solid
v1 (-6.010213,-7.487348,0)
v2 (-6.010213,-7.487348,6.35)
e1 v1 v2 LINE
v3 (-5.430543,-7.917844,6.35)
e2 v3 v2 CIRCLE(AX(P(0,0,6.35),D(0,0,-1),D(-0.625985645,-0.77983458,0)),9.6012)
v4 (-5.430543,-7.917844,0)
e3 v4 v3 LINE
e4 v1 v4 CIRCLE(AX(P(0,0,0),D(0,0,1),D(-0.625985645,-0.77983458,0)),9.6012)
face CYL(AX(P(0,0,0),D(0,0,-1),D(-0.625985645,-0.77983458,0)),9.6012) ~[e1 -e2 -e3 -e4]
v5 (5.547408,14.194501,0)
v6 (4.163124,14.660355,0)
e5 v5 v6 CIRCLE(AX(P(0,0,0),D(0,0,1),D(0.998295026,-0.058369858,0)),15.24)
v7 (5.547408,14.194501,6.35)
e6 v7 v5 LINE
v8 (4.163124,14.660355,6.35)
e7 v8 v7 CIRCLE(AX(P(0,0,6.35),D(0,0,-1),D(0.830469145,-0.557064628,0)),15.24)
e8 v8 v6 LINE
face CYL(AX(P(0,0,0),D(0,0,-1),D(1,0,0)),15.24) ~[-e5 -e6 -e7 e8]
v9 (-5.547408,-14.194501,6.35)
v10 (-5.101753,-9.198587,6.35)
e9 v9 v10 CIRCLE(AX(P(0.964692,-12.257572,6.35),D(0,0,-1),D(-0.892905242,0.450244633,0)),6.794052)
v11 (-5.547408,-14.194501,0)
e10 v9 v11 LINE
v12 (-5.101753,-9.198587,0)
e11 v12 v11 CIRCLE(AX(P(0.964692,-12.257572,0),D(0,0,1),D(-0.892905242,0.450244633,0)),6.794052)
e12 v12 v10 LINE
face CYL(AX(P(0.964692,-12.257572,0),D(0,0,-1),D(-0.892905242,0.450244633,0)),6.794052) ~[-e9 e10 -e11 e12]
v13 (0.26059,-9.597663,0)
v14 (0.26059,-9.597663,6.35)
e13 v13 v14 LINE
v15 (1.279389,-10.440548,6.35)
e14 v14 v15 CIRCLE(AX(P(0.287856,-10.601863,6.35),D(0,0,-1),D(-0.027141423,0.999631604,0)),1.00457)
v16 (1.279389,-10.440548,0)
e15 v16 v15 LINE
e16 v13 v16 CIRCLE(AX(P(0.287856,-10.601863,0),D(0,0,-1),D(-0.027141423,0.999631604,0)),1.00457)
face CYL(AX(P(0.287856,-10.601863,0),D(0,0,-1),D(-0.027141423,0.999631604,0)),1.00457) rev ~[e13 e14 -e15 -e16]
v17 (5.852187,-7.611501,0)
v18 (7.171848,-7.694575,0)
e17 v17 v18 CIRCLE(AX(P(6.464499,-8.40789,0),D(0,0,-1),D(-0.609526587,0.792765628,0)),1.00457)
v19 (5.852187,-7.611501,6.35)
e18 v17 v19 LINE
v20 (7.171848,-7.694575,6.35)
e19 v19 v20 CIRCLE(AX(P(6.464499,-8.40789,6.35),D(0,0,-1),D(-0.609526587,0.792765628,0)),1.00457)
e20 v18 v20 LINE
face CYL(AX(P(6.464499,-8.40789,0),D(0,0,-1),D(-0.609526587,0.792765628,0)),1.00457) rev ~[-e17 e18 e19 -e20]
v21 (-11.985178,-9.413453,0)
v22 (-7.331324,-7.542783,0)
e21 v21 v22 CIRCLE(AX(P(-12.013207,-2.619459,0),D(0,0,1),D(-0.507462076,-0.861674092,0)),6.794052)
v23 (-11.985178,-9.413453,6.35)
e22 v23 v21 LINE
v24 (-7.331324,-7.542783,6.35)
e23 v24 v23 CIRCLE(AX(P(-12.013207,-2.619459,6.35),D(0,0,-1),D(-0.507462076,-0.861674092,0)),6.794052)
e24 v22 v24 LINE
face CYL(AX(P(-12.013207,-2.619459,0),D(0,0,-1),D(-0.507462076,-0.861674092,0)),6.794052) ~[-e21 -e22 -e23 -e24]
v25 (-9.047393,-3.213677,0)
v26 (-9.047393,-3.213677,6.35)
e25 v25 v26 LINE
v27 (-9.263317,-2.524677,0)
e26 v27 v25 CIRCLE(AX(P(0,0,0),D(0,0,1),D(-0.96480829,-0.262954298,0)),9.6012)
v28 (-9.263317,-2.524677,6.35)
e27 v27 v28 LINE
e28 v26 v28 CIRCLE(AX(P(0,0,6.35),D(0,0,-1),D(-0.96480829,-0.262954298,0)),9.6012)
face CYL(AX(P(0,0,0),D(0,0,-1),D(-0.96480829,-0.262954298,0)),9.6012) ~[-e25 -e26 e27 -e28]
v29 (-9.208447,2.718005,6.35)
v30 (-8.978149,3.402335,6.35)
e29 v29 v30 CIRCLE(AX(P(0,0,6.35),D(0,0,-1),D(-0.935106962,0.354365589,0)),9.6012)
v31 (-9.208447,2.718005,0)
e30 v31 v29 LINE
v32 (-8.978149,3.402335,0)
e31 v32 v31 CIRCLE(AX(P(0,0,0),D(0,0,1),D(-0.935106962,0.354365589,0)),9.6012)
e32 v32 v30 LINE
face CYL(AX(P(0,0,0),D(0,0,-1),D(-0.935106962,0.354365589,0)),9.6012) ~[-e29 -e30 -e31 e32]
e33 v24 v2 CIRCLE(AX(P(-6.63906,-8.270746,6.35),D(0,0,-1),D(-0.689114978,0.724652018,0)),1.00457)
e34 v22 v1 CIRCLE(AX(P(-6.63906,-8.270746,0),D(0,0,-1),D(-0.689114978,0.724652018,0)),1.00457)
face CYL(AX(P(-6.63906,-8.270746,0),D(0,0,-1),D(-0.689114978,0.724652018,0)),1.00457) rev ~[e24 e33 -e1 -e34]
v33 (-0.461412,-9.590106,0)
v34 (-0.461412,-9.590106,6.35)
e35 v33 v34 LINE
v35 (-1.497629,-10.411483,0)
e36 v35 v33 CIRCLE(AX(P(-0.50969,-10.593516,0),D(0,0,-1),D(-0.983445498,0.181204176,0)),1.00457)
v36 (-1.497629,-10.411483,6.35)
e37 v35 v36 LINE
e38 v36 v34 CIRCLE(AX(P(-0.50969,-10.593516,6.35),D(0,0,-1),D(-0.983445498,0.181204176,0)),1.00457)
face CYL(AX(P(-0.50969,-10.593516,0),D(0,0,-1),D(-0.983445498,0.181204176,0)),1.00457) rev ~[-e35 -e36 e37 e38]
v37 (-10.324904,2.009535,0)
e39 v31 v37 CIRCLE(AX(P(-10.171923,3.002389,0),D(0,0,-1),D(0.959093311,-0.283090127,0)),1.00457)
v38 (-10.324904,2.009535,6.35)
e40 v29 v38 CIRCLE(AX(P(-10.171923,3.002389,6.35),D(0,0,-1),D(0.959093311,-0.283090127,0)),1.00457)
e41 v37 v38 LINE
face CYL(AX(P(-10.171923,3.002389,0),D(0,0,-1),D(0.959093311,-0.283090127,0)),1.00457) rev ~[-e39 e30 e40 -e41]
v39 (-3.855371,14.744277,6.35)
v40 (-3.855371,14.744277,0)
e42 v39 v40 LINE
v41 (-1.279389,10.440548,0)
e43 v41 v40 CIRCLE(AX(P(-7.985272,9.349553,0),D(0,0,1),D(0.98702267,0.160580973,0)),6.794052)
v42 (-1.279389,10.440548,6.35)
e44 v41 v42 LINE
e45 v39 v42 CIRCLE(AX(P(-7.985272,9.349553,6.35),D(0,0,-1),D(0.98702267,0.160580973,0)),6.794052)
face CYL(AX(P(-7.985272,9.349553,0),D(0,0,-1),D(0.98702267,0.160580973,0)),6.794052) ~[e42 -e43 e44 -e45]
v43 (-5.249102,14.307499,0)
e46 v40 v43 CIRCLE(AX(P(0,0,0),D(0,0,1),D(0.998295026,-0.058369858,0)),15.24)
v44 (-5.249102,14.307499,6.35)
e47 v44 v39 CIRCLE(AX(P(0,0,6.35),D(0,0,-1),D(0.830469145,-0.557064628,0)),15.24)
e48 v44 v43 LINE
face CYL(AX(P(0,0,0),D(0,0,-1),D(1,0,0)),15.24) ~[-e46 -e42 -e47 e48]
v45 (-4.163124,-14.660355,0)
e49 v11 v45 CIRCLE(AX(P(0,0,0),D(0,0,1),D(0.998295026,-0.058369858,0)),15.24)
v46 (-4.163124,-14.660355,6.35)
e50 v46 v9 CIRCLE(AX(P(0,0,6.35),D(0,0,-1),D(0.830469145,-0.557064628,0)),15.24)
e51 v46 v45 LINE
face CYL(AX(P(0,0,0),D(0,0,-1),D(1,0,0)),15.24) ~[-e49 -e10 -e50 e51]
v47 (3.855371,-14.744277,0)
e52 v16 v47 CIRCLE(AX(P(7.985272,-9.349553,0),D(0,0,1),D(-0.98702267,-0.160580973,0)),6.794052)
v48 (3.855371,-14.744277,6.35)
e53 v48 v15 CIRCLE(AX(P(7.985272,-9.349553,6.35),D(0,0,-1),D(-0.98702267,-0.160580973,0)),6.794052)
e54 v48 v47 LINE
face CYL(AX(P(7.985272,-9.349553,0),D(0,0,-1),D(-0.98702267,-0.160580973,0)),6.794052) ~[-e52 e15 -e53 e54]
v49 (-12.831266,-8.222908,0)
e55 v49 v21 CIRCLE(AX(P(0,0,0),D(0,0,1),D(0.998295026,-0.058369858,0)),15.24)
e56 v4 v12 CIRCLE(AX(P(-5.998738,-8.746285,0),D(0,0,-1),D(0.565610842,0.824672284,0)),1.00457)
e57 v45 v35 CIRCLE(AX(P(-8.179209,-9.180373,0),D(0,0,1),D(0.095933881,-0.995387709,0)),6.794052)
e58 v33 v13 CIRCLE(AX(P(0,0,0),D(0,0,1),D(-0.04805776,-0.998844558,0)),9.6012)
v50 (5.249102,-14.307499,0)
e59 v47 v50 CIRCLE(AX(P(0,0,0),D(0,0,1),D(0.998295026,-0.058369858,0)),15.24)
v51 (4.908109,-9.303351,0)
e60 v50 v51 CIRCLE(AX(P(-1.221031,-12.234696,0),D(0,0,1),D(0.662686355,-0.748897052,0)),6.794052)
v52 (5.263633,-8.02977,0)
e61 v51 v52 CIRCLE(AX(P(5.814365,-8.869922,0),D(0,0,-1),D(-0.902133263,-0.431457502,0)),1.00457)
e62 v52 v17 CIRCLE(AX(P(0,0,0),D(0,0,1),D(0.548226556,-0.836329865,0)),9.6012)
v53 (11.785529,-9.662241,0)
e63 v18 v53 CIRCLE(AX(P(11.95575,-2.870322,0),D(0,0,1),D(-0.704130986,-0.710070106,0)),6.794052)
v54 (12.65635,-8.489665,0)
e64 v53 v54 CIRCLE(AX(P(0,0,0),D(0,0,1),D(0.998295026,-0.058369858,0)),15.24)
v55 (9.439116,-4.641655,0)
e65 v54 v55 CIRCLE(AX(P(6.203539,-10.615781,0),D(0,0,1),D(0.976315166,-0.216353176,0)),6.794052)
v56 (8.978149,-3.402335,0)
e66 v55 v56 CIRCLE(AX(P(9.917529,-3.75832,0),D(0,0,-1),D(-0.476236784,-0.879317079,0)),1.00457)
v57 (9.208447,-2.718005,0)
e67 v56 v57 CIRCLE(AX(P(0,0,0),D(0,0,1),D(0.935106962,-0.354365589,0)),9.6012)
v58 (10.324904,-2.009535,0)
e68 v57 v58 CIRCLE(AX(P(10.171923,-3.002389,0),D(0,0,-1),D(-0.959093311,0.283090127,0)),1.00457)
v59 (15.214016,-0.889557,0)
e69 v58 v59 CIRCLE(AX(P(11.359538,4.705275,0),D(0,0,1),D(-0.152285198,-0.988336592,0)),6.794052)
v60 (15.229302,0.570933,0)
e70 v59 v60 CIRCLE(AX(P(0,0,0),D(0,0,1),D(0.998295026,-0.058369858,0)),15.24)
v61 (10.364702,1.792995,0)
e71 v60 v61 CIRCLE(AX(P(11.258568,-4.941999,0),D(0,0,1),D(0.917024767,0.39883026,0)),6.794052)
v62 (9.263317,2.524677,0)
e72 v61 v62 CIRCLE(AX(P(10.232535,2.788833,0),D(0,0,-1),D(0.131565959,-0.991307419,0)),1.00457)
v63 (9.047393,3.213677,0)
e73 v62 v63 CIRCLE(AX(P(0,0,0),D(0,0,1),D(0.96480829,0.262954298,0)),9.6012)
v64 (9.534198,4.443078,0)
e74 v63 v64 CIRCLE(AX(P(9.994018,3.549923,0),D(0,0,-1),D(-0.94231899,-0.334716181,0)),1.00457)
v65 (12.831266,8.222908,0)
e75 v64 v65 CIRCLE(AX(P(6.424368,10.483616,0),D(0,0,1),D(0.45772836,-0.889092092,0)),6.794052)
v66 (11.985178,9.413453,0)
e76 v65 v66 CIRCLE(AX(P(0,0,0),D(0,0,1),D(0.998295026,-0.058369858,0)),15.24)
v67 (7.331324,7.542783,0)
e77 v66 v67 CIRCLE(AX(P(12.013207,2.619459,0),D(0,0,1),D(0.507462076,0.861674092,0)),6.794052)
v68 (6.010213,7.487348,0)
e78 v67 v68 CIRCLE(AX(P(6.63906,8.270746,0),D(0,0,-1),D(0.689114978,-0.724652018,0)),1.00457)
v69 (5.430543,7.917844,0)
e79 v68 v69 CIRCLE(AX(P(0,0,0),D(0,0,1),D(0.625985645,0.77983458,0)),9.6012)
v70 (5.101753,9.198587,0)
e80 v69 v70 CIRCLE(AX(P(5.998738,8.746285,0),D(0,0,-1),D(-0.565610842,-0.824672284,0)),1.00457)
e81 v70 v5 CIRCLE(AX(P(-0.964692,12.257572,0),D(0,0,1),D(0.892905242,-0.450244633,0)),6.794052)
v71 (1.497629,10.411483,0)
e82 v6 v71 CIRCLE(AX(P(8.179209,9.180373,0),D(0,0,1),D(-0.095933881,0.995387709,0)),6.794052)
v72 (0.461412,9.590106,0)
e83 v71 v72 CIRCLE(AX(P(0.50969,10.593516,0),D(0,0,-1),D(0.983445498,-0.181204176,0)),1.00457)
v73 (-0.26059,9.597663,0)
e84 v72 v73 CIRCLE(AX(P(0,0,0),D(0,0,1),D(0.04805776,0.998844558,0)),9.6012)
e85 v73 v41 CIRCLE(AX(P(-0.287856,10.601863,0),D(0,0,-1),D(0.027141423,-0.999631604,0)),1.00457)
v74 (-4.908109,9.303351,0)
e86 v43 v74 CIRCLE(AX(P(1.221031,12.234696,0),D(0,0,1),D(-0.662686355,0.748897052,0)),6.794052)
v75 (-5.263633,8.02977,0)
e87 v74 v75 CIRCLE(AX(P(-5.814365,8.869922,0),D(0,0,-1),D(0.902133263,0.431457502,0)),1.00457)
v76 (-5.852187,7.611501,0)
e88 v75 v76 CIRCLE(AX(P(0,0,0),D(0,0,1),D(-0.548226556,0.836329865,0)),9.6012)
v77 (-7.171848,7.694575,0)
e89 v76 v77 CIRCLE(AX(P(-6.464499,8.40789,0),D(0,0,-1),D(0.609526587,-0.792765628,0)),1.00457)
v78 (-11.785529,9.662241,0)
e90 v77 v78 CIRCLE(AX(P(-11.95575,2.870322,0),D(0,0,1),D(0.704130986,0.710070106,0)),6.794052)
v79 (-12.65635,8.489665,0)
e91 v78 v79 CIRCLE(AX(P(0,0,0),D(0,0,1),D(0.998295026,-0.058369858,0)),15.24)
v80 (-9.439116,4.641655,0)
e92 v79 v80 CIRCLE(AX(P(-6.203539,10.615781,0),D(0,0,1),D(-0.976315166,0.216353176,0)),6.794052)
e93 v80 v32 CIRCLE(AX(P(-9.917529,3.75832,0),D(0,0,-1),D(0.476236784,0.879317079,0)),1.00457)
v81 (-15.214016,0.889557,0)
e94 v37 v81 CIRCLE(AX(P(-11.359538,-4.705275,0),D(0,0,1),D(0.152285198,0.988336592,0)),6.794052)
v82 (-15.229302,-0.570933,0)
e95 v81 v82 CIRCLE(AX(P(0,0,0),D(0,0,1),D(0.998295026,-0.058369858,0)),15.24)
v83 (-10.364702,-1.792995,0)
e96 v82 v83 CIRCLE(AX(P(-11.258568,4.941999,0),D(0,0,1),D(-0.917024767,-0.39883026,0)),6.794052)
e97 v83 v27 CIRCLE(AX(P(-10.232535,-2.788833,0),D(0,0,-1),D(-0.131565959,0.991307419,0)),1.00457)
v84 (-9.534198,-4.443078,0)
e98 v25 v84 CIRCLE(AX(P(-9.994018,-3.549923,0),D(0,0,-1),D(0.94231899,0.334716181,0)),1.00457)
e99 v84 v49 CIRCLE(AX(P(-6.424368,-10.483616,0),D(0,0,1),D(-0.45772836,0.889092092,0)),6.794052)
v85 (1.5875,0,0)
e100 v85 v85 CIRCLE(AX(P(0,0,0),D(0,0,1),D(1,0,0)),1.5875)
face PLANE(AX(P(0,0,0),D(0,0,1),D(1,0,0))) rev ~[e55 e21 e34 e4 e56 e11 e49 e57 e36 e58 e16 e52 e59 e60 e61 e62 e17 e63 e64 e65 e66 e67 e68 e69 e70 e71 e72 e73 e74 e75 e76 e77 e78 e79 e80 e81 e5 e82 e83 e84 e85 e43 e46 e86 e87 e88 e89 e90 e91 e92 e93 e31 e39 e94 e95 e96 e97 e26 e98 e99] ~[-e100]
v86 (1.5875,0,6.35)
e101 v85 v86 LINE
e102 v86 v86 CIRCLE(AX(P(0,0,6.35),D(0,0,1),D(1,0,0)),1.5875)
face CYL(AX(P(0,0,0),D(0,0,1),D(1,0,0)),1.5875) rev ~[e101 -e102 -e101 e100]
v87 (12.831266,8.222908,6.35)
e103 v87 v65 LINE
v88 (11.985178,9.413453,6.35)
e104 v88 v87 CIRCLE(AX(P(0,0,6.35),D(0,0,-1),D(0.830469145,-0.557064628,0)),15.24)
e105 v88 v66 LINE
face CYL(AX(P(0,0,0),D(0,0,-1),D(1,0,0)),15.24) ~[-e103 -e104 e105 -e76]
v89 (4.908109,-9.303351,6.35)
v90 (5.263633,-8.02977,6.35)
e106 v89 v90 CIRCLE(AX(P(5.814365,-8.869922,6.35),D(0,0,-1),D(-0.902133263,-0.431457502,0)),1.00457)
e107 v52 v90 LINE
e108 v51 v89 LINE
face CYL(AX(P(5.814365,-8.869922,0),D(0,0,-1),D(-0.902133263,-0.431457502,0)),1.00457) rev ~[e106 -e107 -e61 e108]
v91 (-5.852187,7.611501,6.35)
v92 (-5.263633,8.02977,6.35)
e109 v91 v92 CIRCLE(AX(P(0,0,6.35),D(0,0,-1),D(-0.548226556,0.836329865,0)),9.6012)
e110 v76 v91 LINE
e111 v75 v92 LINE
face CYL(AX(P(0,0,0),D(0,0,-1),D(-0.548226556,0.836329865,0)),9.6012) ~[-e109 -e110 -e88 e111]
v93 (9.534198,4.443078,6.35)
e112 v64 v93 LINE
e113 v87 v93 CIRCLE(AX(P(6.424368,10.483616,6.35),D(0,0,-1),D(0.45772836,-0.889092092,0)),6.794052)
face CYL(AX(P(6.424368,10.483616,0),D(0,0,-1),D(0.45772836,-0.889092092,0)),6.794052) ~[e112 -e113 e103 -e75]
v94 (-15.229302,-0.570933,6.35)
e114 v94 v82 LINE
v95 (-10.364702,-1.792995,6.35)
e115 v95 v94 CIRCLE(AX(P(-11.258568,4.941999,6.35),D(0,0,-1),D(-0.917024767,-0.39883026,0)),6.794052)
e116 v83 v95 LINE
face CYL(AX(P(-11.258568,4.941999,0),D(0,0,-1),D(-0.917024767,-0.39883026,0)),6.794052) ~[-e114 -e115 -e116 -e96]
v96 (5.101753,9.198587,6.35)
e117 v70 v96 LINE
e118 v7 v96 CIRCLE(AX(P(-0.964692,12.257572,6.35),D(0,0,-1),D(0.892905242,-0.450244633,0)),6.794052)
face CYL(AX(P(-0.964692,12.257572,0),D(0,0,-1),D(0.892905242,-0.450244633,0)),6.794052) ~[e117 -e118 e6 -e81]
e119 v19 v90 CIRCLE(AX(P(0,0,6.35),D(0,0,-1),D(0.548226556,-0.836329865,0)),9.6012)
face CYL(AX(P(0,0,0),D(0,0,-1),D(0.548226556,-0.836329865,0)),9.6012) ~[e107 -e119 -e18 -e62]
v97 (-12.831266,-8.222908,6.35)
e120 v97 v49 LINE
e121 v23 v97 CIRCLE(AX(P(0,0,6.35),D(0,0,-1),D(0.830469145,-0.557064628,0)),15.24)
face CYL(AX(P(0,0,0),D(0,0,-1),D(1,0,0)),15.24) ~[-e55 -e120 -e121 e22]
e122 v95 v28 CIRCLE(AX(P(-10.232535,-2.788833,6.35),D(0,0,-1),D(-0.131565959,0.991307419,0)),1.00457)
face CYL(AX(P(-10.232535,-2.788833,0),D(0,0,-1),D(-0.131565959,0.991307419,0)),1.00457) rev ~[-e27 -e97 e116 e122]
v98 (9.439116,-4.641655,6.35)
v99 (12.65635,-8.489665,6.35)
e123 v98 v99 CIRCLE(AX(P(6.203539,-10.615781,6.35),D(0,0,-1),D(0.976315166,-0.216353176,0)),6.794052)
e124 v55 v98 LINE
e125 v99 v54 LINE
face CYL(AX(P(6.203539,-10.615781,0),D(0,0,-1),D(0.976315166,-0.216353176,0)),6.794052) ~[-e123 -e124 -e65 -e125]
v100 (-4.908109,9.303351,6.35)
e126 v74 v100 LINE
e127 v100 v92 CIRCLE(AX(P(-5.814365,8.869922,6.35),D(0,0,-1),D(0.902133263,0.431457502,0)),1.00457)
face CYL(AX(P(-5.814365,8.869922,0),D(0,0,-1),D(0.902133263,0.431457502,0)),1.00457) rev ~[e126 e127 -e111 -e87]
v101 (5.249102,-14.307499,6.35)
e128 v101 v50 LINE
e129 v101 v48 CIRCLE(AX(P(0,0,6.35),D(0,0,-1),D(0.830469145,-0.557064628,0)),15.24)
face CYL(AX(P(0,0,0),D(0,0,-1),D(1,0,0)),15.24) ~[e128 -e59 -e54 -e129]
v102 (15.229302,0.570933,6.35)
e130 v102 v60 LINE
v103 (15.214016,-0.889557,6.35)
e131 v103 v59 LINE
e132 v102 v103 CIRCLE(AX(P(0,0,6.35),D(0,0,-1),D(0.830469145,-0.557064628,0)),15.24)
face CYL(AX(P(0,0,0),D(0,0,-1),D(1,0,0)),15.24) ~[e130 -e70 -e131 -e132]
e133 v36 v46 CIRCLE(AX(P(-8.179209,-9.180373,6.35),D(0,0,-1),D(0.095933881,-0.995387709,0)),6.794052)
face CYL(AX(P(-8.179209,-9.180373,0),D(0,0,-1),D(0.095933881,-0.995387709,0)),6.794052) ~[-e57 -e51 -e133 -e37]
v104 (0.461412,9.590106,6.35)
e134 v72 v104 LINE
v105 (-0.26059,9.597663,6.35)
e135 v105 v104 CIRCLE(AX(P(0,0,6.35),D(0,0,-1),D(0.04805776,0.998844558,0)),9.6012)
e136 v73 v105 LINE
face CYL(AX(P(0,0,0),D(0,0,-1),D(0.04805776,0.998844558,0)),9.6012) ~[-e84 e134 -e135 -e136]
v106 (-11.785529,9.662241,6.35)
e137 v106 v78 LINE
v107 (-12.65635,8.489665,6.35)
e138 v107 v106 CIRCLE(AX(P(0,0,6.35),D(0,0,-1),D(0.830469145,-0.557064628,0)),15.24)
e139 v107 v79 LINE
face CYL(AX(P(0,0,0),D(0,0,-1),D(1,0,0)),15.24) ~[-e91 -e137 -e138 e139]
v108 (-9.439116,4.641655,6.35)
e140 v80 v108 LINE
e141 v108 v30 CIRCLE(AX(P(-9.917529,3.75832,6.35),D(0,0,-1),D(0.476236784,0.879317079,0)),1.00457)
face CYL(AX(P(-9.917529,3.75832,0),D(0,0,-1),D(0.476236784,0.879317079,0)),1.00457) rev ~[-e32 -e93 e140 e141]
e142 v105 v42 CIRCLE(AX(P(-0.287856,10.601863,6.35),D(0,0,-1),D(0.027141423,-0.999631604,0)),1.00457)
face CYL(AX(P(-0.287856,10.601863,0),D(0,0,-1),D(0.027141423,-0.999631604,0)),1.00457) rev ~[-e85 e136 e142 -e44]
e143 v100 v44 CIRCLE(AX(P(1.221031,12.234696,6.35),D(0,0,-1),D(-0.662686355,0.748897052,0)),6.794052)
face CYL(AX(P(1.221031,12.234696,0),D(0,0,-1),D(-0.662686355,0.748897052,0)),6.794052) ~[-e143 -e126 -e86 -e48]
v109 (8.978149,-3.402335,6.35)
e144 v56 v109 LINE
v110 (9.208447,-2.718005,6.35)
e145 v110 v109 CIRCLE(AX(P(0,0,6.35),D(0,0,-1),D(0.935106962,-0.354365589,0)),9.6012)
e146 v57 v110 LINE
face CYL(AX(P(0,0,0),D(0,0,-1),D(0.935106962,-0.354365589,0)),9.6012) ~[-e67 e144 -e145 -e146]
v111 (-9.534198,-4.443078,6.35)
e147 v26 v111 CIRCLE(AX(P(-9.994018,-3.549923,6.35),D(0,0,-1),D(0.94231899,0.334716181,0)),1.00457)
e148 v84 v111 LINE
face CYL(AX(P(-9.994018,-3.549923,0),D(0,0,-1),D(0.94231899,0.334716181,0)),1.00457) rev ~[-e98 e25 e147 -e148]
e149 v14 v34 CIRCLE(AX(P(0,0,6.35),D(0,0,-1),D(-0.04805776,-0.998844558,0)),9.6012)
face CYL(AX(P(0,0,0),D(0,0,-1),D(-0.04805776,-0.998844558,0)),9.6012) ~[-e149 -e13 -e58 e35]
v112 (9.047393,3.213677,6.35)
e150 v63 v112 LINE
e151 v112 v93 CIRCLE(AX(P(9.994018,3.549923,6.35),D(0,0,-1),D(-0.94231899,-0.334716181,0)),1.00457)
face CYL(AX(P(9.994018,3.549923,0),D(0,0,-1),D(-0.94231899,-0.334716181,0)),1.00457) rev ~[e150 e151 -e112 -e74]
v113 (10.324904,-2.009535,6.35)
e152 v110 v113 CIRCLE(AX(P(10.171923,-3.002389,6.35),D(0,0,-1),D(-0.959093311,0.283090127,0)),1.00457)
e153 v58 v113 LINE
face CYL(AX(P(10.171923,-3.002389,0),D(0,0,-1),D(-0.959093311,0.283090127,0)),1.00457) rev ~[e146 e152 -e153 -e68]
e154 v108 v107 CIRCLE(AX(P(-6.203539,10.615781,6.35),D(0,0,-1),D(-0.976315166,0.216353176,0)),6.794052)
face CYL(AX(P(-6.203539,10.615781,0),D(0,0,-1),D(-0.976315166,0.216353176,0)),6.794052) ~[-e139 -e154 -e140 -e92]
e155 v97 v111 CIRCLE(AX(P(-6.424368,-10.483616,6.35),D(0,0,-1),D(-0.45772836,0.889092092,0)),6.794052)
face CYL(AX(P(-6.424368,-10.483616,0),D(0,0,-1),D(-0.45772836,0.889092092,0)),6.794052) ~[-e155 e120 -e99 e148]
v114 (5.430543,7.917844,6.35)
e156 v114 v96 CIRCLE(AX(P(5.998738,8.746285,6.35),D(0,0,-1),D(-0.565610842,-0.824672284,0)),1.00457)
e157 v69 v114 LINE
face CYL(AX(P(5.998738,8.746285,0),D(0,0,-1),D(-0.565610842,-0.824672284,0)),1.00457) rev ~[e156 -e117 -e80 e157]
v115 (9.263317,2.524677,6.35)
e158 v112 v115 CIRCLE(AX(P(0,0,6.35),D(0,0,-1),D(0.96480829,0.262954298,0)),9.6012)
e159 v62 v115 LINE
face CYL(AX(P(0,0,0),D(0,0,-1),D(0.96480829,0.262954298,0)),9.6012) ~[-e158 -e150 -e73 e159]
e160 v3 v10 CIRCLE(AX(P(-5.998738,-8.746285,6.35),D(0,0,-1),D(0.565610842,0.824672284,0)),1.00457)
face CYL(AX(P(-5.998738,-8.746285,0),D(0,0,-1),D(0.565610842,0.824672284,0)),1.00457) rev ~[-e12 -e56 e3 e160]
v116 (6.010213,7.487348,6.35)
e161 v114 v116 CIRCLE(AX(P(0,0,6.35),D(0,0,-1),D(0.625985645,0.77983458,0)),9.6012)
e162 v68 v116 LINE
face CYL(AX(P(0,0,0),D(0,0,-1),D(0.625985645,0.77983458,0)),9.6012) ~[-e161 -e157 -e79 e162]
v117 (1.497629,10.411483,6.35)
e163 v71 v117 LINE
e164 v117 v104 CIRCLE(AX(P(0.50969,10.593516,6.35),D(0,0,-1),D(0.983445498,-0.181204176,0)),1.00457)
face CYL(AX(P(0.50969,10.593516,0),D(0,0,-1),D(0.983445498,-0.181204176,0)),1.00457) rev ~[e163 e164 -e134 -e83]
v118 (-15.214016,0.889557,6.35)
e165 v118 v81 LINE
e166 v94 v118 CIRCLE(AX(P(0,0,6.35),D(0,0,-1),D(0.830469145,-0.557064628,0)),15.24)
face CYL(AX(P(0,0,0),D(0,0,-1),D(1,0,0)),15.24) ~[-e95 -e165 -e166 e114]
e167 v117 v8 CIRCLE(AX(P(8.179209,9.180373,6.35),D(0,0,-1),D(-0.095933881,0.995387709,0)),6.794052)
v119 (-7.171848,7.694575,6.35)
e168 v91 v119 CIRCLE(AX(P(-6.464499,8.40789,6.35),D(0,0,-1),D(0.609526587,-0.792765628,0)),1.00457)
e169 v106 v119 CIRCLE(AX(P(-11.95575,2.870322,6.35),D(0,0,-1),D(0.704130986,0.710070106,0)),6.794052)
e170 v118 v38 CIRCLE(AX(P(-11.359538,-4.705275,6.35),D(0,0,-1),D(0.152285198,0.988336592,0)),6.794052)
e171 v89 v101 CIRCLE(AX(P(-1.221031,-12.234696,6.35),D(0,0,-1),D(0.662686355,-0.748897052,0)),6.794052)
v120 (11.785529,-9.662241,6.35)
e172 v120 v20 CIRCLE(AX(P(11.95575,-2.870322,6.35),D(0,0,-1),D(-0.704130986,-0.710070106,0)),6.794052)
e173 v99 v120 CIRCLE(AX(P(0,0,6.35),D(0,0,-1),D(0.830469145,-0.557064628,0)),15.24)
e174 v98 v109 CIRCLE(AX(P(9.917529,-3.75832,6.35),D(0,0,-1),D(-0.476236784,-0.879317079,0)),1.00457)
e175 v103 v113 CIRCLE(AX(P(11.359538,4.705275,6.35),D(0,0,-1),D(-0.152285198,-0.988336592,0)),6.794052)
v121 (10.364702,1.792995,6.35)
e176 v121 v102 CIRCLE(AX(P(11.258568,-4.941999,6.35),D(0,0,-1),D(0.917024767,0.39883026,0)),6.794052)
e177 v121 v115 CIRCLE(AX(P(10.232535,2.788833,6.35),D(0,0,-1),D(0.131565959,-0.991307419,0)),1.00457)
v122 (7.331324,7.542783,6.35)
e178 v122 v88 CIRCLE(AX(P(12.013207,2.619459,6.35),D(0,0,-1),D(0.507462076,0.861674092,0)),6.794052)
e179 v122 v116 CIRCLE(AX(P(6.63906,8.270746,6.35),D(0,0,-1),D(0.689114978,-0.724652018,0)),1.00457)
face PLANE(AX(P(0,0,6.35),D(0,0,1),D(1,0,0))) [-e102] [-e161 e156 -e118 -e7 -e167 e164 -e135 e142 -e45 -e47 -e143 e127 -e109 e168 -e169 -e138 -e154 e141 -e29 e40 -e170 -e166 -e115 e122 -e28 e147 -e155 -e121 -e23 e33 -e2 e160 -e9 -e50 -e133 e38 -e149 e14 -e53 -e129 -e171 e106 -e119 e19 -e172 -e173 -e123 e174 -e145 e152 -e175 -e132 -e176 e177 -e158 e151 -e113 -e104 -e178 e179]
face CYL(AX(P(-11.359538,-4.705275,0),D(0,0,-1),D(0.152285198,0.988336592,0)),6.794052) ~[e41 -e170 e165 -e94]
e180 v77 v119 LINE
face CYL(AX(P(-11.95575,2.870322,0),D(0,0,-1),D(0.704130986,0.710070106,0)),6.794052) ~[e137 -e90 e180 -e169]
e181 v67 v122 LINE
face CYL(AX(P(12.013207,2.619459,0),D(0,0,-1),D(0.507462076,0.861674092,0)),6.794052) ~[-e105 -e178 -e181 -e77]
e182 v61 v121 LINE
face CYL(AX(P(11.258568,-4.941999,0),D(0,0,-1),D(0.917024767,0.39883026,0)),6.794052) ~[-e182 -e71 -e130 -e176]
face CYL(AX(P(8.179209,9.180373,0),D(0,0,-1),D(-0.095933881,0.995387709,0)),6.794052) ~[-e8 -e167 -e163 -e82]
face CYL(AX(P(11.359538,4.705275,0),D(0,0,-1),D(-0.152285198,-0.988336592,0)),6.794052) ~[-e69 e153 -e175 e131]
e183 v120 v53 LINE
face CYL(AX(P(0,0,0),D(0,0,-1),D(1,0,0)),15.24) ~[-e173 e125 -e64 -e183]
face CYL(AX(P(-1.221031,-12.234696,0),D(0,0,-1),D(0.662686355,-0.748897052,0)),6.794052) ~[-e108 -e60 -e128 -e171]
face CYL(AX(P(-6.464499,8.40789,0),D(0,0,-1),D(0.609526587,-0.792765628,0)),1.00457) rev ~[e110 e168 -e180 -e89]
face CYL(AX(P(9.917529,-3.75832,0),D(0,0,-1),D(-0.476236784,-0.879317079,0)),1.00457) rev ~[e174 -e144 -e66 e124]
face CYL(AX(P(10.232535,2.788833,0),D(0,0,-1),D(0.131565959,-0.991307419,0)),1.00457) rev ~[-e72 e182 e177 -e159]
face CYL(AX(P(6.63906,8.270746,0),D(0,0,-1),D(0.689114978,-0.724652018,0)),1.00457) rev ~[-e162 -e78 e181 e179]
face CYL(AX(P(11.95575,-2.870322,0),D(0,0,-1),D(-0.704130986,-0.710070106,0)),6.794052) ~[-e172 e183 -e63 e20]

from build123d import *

# Parameters (mm, degrees)
SKETCH3_R         = 15.24
GEARBODY_DEPTH    = 6.35
TOOTHCUT_DEPTH    = 23.468593636
CIRPATTERN1_COUNT = 10
BOREDIA_R         = 1.5875
BORE_DEPTH        = 12700


with BuildPart() as part:
    # Sketch3 → gearBody (new body)
    with BuildSketch(Plane.XY):
        Circle(SKETCH3_R)
    extrude(amount=GEARBODY_DEPTH)

    # Sketch2 → toothCut (cut, through all)
    with BuildSketch(Plane.XY):
        with BuildLine():
            ThreePointArc((8.978148959, -3.402334891), (9.099733091, -3.062335565), (9.208446704, -2.718004919))
            ThreePointArc((9.208446704, -2.718004919), (9.633677899, -2.154183003), (10.324904213, -2.009535477))
            ThreePointArc((10.324904213, -2.009535477), (14.577189645, -1.27852495), (17.531773304, 1.865794244))
            ThreePointArc((17.531773304, 1.865794244), (16.709927513, -5.623396291), (12.836674632, -12.085695996))
            ThreePointArc((12.836674632, -12.085695996), (12.384259618, -7.794818645), (9.439116174, -4.64165549))
            ThreePointArc((9.439116174, -4.64165549), (8.975980875, -4.108530348), (8.978148959, -3.402334891))
        make_face()
    toothcut = extrude(amount=TOOTHCUT_DEPTH, mode=Mode.SUBTRACT)

    # CirPattern1: toothCut ×10 about axis
    cirpattern1_axis = Axis((0, 0, 6.35), (0, 0, -1))
    for i in range(1, CIRPATTERN1_COUNT):
        add(toothcut.rotate(cirpattern1_axis, i * 360 / CIRPATTERN1_COUNT), mode=Mode.SUBTRACT)

    # boreDia → bore (cut, symmetric)
    with BuildSketch(Plane.XY):
        Circle(BOREDIA_R)
    extrude(amount=BORE_DEPTH, both=True, mode=Mode.SUBTRACT)


solid = part.part
